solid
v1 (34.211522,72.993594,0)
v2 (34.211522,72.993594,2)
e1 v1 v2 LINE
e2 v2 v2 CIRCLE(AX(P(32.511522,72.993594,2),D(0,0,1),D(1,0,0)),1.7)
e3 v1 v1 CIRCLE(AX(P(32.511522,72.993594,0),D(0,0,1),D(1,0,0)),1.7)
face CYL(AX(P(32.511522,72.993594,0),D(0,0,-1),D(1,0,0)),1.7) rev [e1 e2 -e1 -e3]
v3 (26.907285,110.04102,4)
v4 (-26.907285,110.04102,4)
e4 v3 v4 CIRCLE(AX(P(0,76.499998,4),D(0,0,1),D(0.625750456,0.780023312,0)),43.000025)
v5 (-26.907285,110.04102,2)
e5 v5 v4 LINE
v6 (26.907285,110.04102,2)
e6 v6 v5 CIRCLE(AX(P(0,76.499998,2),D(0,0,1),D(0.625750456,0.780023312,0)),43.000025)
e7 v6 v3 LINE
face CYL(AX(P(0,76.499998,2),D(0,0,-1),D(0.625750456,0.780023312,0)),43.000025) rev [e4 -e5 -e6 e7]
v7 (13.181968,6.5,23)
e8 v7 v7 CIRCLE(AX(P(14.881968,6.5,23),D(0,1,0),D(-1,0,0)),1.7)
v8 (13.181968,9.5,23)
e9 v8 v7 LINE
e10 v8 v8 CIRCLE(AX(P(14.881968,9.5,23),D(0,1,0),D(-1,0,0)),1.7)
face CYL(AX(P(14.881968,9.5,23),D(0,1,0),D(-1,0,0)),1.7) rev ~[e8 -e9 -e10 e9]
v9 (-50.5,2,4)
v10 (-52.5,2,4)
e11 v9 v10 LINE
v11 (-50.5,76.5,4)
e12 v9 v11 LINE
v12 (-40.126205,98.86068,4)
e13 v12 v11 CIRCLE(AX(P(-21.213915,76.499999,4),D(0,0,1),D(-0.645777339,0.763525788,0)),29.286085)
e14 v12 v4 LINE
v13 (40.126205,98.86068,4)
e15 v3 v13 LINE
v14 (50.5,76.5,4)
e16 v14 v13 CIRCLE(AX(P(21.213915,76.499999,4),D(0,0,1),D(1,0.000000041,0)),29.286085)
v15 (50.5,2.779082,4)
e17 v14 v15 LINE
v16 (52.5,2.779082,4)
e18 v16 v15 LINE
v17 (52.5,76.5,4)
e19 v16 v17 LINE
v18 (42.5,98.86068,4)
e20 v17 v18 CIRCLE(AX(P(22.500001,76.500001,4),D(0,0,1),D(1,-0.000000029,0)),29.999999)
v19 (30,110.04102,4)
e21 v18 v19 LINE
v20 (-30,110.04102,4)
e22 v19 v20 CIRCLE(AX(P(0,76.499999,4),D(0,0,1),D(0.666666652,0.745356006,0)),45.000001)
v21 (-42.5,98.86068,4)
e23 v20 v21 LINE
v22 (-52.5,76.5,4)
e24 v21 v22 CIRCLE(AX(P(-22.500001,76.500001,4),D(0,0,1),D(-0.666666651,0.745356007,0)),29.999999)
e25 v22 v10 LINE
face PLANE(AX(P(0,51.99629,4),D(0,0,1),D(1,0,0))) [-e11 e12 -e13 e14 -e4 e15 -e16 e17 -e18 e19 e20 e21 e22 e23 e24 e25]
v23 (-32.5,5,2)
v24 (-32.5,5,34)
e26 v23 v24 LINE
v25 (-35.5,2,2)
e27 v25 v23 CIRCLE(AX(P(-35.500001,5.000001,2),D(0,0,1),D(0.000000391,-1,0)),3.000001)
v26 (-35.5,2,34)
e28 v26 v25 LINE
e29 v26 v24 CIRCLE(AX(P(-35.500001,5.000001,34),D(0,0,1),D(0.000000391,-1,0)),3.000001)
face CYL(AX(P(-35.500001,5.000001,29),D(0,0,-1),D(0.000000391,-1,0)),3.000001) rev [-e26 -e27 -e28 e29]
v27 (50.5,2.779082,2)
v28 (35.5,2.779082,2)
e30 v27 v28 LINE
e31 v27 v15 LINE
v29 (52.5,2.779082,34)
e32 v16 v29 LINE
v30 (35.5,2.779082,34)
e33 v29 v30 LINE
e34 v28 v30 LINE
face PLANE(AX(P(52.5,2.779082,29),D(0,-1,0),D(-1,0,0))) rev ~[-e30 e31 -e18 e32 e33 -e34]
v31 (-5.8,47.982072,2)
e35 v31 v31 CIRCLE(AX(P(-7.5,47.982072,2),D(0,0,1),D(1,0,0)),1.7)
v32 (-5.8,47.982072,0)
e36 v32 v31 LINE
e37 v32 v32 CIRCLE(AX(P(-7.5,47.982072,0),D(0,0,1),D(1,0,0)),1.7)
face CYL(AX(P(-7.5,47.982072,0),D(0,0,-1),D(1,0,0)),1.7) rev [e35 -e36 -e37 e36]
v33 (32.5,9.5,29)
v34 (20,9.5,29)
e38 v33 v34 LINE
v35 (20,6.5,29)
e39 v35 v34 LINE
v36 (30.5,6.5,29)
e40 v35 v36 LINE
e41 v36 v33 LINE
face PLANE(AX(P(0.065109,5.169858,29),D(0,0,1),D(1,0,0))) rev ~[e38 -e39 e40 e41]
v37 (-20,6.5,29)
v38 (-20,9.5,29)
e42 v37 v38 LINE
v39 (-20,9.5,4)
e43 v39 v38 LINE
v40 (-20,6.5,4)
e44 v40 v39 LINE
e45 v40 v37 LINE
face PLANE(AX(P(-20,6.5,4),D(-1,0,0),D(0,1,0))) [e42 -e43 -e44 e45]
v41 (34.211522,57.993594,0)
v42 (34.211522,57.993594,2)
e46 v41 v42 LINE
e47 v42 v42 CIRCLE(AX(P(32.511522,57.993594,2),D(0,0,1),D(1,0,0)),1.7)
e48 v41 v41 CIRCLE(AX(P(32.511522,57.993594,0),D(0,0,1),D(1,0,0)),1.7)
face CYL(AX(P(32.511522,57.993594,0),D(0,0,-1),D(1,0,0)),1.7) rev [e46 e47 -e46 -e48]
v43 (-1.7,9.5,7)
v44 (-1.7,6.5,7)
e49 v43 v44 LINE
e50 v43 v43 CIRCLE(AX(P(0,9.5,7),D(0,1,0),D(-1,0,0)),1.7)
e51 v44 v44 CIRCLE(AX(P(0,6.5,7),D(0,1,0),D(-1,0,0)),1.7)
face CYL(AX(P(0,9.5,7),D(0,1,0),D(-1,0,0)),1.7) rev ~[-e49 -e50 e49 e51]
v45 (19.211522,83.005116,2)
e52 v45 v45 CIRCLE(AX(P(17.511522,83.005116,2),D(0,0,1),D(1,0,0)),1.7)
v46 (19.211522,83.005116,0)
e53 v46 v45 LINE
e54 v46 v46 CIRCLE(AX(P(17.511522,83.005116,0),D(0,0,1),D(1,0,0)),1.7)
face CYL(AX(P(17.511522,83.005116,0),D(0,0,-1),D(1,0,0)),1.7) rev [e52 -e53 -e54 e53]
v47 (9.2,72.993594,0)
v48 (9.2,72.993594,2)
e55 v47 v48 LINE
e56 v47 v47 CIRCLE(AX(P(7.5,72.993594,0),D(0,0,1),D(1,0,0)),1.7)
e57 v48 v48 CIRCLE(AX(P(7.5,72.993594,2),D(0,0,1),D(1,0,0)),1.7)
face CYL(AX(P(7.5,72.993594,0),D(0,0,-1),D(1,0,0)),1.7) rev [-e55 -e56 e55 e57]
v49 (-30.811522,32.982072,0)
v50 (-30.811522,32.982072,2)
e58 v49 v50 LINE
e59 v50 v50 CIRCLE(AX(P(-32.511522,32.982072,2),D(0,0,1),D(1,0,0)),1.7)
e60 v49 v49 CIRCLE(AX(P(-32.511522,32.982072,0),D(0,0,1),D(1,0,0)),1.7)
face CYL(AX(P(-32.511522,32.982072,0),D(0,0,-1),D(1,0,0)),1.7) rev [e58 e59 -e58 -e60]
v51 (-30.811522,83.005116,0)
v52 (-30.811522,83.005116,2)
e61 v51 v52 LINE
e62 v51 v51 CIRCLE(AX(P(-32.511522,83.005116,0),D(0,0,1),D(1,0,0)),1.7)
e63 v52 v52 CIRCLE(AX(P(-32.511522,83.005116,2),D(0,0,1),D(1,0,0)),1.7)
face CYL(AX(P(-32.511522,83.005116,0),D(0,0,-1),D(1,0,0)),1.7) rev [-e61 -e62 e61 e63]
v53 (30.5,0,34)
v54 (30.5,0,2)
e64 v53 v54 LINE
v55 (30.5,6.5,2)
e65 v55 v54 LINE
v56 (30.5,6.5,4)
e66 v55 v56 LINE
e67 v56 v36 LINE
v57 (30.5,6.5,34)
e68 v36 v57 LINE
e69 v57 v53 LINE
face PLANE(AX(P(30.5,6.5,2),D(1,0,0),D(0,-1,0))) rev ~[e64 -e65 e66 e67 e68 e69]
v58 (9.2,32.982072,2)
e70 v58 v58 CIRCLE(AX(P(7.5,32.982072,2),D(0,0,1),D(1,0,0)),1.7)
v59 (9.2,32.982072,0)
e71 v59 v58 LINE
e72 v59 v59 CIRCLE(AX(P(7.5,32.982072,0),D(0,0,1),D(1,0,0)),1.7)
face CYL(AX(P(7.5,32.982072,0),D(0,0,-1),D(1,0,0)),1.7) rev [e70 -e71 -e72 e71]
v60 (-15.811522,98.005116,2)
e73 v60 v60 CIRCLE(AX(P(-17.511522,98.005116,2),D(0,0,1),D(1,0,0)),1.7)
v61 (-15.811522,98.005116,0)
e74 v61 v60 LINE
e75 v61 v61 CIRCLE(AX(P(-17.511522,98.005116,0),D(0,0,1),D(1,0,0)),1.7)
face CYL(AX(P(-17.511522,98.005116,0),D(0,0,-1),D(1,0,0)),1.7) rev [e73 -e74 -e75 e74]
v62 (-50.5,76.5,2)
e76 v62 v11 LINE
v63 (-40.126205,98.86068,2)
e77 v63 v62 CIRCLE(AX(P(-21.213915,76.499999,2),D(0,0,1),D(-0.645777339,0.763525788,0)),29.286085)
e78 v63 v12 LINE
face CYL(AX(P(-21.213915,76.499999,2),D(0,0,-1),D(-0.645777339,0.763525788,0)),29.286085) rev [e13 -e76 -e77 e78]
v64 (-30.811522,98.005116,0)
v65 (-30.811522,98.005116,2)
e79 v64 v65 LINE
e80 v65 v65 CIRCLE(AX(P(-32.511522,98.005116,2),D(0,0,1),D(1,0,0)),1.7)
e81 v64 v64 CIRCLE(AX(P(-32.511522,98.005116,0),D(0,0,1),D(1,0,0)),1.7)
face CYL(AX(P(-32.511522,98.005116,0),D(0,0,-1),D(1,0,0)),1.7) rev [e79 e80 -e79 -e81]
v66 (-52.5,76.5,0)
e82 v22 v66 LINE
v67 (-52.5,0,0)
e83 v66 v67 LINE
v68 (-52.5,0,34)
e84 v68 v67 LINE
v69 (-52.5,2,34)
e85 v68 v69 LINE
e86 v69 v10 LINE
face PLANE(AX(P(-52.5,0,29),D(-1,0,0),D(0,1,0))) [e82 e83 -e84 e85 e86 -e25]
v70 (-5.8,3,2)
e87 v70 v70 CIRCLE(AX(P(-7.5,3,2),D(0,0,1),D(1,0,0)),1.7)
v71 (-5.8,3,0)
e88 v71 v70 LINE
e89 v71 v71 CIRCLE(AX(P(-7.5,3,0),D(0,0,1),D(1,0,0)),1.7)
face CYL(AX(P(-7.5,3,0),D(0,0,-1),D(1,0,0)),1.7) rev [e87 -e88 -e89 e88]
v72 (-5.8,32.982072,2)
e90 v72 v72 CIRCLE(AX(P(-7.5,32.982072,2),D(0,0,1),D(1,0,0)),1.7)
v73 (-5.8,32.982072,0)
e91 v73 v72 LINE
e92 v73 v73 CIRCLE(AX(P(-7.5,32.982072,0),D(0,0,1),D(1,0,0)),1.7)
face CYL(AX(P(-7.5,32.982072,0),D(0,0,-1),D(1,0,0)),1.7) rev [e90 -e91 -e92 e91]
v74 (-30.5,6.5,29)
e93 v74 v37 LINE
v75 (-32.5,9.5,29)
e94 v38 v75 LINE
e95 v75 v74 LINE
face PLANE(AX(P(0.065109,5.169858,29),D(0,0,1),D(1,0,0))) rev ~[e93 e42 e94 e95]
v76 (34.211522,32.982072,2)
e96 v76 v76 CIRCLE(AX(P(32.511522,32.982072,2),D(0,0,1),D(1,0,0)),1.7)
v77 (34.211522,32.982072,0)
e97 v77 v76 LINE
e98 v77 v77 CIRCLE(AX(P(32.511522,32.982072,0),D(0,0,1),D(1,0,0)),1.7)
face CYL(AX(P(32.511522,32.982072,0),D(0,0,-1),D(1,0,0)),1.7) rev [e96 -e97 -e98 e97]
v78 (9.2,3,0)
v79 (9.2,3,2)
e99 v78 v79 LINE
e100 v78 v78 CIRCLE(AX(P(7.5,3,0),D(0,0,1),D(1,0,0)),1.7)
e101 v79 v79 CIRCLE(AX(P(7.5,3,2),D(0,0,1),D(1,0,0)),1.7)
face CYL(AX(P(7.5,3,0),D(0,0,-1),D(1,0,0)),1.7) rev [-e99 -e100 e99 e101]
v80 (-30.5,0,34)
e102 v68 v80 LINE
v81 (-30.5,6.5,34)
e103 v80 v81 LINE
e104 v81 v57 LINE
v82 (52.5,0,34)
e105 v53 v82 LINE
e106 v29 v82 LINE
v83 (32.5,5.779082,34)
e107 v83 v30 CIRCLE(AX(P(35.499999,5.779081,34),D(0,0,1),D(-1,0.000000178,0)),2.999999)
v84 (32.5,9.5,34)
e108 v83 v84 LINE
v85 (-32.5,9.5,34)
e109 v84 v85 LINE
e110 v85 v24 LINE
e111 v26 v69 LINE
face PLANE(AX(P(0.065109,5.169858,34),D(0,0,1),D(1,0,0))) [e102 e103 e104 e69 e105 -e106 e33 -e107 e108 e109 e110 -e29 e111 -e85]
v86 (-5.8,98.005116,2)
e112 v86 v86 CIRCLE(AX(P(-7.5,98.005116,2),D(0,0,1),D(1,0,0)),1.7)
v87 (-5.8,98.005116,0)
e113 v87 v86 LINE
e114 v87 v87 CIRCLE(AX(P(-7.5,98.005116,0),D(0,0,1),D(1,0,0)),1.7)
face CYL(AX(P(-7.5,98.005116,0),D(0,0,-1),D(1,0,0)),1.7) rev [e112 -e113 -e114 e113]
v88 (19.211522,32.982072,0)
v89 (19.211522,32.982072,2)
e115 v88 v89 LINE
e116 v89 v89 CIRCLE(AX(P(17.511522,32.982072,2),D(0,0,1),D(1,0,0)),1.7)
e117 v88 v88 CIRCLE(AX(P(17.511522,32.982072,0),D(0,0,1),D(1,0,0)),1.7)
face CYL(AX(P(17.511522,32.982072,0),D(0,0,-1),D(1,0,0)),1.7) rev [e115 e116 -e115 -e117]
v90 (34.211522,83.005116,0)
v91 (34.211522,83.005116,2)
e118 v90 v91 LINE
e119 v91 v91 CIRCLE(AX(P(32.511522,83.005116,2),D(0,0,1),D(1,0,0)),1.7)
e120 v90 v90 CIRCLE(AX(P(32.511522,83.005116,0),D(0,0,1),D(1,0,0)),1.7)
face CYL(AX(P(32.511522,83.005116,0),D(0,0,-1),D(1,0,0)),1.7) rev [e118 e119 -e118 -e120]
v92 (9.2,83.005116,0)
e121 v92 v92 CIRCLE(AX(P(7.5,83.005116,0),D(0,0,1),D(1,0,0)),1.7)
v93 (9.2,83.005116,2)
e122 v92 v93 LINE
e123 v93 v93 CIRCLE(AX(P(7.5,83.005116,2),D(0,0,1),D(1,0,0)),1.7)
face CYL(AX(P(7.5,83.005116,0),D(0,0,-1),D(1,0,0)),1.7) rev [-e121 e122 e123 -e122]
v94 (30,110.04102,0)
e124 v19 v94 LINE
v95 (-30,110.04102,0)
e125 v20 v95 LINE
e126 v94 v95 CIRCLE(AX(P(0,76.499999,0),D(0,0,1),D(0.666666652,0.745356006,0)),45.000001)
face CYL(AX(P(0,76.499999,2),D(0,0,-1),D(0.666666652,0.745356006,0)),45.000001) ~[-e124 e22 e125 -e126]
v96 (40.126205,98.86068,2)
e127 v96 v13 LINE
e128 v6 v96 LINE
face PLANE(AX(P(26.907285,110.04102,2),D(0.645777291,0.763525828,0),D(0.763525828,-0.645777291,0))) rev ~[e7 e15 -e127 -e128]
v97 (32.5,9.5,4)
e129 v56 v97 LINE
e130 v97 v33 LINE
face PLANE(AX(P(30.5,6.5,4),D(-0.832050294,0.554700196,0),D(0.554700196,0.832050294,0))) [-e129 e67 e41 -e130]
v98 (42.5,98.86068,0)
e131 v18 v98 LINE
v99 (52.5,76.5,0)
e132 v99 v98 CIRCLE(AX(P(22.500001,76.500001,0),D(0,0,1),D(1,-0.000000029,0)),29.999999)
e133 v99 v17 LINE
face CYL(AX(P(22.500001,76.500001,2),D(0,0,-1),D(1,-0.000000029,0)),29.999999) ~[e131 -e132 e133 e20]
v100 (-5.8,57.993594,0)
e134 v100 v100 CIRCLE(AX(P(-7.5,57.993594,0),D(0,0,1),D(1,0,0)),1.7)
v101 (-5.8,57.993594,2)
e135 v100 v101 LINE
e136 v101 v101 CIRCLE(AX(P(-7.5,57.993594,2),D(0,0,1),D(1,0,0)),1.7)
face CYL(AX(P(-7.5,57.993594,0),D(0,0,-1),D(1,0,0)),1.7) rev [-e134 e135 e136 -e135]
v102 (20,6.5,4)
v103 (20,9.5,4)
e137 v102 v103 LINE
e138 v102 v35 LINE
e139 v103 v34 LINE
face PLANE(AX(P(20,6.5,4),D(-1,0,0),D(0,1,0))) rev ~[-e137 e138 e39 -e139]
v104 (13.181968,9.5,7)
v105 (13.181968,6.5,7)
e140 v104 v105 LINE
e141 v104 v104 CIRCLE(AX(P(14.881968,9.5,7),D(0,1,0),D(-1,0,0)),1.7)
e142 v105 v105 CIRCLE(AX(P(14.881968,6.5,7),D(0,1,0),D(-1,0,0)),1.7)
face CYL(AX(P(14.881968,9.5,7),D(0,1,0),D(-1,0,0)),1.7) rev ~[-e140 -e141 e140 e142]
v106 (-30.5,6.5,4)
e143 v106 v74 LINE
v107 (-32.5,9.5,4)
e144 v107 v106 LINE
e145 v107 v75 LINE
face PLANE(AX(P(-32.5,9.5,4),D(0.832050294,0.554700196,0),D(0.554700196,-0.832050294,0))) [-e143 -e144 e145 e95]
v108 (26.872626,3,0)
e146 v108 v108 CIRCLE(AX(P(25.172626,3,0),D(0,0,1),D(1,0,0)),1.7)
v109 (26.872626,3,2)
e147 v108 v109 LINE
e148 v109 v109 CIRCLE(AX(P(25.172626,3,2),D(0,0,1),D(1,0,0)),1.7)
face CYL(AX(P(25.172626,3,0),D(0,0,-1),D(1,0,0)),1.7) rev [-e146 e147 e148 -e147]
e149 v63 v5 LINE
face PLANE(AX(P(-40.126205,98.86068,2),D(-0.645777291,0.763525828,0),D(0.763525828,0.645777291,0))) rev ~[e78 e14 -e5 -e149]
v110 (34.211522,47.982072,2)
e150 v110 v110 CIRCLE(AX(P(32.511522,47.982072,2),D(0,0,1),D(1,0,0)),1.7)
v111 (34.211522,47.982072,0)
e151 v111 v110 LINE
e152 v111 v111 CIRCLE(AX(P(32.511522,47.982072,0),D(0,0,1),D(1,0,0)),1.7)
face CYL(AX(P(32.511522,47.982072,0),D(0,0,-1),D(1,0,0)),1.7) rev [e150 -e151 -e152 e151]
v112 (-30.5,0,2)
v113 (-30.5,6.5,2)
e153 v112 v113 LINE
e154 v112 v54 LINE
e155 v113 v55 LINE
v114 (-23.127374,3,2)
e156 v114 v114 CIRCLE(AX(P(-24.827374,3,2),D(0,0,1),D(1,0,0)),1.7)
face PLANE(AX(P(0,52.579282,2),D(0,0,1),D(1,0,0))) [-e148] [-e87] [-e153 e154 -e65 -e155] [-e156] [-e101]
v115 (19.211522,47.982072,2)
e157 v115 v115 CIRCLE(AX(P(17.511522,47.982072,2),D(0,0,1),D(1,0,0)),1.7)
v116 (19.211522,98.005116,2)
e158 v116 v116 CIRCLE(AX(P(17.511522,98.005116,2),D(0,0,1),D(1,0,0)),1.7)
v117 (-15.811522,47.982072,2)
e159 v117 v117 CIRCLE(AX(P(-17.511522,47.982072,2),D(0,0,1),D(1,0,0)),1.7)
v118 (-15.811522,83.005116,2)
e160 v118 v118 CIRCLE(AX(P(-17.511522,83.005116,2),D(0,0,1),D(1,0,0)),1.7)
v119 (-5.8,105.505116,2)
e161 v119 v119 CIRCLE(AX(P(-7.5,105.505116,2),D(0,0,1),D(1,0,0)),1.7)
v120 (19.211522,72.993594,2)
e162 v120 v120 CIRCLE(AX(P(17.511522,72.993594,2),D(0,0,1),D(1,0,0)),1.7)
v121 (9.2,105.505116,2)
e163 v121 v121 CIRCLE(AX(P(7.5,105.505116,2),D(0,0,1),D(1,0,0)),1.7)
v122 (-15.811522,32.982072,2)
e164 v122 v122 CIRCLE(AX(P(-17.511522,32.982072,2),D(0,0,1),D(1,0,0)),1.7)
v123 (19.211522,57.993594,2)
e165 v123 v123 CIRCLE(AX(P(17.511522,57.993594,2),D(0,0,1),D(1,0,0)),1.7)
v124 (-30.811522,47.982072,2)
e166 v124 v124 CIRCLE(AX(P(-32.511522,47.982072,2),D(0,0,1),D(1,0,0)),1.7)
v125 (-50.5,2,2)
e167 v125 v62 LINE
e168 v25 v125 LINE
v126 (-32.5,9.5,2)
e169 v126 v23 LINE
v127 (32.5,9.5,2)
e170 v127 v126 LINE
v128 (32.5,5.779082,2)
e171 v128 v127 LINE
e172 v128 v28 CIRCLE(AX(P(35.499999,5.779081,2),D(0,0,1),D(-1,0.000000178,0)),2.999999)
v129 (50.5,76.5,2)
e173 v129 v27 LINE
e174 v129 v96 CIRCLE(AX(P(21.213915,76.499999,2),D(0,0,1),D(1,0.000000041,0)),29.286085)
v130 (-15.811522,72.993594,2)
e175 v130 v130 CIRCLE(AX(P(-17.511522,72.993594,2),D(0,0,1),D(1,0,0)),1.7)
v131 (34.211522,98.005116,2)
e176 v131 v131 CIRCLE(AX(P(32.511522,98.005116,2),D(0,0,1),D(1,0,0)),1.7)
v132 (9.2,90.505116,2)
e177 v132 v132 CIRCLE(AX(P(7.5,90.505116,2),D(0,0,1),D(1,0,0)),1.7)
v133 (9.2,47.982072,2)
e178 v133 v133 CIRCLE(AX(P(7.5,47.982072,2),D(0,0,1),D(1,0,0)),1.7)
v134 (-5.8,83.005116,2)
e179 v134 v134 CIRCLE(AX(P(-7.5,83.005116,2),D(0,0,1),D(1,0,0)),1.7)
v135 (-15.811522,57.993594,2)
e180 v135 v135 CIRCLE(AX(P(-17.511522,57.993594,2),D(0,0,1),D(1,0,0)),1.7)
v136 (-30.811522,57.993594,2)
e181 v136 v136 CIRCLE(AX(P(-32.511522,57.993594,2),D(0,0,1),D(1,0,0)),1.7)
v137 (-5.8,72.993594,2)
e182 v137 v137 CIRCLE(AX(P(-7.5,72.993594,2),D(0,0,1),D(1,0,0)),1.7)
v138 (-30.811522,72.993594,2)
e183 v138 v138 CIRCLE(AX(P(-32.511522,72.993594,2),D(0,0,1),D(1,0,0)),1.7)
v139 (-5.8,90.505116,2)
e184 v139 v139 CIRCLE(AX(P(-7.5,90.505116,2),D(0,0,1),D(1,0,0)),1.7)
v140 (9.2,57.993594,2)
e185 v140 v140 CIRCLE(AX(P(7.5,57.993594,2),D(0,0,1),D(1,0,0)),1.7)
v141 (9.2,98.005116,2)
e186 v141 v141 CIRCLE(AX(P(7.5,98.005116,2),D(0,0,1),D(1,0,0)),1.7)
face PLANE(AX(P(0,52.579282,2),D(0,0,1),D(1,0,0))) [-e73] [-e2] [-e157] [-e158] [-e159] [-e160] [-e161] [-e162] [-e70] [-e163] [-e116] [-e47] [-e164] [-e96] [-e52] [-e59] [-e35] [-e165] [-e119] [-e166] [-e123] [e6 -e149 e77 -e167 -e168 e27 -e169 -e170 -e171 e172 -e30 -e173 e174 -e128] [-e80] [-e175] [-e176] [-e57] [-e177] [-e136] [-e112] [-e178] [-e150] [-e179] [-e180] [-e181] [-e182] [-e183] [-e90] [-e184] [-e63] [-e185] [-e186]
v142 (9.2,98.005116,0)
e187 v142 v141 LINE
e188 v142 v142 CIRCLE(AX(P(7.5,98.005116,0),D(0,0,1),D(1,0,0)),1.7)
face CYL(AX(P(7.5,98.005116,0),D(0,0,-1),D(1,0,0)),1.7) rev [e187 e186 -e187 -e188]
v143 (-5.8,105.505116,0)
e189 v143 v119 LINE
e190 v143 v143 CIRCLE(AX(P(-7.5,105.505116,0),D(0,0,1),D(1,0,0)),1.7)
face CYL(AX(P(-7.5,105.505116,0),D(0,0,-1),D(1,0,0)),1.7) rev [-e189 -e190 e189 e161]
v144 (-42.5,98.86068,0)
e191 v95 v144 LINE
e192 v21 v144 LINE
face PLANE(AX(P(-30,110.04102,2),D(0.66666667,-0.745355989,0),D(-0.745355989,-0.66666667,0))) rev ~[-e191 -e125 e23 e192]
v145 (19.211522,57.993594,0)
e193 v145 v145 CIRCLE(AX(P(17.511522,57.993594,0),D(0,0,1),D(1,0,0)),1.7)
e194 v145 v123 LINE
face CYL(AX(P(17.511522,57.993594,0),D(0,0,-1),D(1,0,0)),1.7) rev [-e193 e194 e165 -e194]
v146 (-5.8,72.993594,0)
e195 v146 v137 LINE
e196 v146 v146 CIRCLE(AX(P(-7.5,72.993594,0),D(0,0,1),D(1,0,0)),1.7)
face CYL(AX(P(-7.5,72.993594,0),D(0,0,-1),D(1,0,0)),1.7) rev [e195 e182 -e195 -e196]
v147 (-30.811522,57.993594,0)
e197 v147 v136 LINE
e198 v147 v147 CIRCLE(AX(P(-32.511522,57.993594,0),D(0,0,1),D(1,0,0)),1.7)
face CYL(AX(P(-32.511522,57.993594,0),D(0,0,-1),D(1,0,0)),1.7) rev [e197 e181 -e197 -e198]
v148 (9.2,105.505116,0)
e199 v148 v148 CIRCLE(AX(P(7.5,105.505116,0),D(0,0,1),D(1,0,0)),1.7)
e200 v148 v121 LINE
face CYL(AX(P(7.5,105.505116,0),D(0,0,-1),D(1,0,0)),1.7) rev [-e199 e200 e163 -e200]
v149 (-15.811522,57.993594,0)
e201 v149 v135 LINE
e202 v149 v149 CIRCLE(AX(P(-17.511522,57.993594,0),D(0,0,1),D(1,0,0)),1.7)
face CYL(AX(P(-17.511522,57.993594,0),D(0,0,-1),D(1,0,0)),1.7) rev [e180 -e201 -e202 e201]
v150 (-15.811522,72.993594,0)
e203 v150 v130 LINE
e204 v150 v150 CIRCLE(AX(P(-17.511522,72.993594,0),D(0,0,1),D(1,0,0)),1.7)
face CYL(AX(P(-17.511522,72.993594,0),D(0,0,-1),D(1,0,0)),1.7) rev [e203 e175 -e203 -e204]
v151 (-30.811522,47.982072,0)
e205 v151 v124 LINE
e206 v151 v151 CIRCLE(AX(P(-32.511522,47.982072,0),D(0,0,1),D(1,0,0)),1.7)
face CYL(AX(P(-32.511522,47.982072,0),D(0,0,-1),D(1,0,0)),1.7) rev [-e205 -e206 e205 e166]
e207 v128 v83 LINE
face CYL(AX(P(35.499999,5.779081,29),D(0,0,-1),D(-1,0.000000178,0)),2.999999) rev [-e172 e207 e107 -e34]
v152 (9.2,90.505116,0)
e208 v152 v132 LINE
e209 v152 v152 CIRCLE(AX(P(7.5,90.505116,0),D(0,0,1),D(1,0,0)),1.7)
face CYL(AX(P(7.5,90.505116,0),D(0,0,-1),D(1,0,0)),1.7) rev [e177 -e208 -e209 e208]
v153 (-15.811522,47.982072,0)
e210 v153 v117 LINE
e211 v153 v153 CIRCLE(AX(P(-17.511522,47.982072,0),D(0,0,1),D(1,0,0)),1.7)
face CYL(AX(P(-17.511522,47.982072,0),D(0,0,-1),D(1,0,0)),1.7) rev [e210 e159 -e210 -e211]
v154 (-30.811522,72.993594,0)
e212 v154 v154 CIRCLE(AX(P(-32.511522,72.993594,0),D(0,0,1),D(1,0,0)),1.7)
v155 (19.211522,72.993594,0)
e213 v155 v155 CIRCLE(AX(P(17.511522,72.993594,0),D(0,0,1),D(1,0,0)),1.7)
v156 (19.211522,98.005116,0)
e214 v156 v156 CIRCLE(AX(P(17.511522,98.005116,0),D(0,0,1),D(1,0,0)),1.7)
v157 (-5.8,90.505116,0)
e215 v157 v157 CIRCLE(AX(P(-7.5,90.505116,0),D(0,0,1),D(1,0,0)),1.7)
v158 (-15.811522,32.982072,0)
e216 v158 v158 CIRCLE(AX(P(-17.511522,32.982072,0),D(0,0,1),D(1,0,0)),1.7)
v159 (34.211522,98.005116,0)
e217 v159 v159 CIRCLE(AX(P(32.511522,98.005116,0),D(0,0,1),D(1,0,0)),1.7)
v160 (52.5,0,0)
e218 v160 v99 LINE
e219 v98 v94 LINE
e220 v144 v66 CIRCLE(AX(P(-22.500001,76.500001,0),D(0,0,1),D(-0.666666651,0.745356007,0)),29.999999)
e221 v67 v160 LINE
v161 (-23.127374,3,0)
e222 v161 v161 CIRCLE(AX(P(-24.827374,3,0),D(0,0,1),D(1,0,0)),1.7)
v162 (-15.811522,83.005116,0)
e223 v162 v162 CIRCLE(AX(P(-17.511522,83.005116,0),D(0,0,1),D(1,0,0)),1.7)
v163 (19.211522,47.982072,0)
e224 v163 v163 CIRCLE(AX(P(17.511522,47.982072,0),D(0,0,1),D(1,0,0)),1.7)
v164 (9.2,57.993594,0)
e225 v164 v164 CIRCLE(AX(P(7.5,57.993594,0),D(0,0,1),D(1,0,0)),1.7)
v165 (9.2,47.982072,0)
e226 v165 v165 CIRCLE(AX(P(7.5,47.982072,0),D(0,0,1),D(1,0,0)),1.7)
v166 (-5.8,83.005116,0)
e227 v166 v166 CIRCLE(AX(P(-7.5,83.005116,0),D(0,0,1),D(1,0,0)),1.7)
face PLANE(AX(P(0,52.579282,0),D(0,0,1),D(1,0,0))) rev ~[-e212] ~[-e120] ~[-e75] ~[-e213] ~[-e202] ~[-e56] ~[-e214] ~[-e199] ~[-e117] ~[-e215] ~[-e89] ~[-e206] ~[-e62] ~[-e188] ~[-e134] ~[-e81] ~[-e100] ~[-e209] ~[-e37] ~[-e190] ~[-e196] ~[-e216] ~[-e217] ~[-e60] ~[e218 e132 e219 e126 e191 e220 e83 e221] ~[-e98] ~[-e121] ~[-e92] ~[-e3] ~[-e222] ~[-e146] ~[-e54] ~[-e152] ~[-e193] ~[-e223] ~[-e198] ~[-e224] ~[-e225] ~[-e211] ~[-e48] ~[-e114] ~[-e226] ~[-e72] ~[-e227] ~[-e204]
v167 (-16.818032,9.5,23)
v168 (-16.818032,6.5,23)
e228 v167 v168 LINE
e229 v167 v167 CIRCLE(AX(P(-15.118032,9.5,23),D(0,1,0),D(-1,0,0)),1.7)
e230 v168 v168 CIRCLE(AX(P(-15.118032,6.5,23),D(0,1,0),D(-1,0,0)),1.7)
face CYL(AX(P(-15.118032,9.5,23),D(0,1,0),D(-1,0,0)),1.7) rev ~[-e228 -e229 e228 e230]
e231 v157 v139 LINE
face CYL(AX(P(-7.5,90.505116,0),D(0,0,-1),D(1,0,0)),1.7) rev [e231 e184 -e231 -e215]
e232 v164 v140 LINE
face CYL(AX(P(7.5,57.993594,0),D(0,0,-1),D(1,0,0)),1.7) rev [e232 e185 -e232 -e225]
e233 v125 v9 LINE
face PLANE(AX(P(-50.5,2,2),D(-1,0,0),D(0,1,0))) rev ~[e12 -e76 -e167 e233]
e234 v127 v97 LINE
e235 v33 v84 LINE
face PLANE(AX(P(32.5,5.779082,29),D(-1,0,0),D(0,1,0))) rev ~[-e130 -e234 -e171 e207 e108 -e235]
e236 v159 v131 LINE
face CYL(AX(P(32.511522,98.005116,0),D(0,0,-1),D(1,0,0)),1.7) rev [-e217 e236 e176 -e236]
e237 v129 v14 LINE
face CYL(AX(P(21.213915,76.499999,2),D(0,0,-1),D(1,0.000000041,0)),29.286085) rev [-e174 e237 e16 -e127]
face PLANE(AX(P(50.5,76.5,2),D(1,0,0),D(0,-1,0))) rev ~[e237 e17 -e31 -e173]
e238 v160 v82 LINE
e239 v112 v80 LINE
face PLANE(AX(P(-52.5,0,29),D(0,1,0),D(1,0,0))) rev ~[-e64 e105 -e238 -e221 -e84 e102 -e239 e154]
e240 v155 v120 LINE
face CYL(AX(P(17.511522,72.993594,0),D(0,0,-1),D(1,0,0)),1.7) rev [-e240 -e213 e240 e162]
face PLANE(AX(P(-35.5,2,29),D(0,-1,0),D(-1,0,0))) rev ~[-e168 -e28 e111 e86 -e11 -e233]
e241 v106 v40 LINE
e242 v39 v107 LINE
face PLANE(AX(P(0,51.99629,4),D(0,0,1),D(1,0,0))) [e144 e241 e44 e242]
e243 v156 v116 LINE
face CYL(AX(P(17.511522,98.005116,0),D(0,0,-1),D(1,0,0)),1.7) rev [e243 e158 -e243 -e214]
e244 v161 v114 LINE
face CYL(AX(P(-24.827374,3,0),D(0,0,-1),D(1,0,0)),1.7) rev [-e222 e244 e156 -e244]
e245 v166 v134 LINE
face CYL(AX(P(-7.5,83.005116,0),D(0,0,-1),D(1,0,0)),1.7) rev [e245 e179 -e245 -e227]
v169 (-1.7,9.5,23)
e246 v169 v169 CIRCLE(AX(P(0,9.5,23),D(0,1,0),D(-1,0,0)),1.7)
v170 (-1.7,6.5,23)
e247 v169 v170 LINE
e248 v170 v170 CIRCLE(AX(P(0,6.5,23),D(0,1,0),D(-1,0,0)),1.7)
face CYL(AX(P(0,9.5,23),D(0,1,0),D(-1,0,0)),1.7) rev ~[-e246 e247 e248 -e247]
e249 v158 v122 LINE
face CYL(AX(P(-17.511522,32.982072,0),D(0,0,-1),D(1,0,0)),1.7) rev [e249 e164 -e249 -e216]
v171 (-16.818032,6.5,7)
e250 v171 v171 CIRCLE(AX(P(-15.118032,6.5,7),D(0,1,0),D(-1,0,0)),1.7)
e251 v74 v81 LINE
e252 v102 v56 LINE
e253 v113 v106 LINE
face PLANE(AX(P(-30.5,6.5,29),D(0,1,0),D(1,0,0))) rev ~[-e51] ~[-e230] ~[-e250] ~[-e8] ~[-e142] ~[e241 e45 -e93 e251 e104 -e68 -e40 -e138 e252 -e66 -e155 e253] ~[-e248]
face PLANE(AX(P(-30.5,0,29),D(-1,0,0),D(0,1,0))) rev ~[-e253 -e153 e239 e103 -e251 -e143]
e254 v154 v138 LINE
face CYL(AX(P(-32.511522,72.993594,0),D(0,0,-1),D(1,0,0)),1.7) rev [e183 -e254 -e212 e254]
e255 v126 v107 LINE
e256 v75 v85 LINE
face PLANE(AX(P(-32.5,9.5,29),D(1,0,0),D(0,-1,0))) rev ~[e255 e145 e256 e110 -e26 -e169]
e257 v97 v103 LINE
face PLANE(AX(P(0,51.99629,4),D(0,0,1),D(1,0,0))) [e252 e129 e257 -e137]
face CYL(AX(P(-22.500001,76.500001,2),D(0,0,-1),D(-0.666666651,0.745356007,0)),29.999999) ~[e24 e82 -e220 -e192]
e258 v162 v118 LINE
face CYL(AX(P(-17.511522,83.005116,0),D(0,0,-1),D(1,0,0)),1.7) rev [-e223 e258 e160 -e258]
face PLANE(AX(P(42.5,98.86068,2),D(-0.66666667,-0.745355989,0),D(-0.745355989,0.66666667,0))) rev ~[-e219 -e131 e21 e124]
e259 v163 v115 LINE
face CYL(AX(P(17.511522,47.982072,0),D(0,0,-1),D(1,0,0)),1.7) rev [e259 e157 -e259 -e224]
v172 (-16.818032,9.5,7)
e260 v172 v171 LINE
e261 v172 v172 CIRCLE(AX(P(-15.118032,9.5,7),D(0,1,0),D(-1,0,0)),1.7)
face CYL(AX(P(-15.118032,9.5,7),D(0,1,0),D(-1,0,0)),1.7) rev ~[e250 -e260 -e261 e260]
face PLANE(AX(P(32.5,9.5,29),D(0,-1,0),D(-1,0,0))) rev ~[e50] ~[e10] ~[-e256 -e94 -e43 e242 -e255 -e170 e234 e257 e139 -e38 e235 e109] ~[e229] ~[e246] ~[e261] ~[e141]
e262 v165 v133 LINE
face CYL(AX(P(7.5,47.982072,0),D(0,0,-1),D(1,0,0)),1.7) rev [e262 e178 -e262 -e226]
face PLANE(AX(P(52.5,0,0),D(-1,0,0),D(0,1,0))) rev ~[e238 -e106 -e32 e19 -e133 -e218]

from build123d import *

# Parameters (mm, degrees)
SKETCH023_R     = 1.7
PAD004_DEPTH    = 2
PAD005_DEPTH    = 2
SKETCH025_W     = 40
SKETCH025_H     = 3
PAD006_DEPTH    = 25
PAD007_DEPTH    = 5
SKETCH027_R     = 1.7
POCKET018_DEPTH = 10


with BuildPart() as part:
    # Sketch023 → Pad004 (new body)
    with BuildSketch(Plane.XY):
        with BuildLine():
            Line((-52.5, 0), (-30.5, 0))
            Line((-30.5, 0), (30.5, 0))
            Line((30.5, 0), (52.5, 0))
            Line((52.5, 0), (52.5, 76.5))
            ThreePointArc((52.5, 76.5), (49.886128, 88.747449), (42.5, 98.86068))
            Line((42.5, 98.86068), (30, 110.04102))
            ThreePointArc((30, 110.04102), (0, 121.5), (-30, 110.04102))
            Line((-30, 110.04102), (-42.5, 98.86068))
            ThreePointArc((-42.5, 98.86068), (-49.886128, 88.747449), (-52.5, 76.5))
            Line((-52.5, 76.5), (-52.5, 0))
        make_face()
        with Locations((17.511522, 32.982072)):
            Circle(SKETCH023_R, mode=Mode.SUBTRACT)
        with Locations((17.511522, 47.982072)):
            Circle(SKETCH023_R, mode=Mode.SUBTRACT)
        with Locations((32.511522, 47.982072)):
            Circle(SKETCH023_R, mode=Mode.SUBTRACT)
        with Locations((32.511522, 32.982072)):
            Circle(SKETCH023_R, mode=Mode.SUBTRACT)
        with Locations((-7.5, 32.982072)):
            Circle(SKETCH023_R, mode=Mode.SUBTRACT)
        with Locations((-7.5, 47.982072)):
            Circle(SKETCH023_R, mode=Mode.SUBTRACT)
        with Locations((7.5, 47.982072)):
            Circle(SKETCH023_R, mode=Mode.SUBTRACT)
        with Locations((7.5, 32.982072)):
            Circle(SKETCH023_R, mode=Mode.SUBTRACT)
        with Locations((-32.511522, 32.982072)):
            Circle(SKETCH023_R, mode=Mode.SUBTRACT)
        with Locations((-32.511522, 47.982072)):
            Circle(SKETCH023_R, mode=Mode.SUBTRACT)
        with Locations((-17.511522, 47.982072)):
            Circle(SKETCH023_R, mode=Mode.SUBTRACT)
        with Locations((-17.511522, 32.982072)):
            Circle(SKETCH023_R, mode=Mode.SUBTRACT)
        with Locations((17.511522, 57.993594)):
            Circle(SKETCH023_R, mode=Mode.SUBTRACT)
        with Locations((17.511522, 72.993594)):
            Circle(SKETCH023_R, mode=Mode.SUBTRACT)
        with Locations((32.511522, 72.993594)):
            Circle(SKETCH023_R, mode=Mode.SUBTRACT)
        with Locations((32.511522, 57.993594)):
            Circle(SKETCH023_R, mode=Mode.SUBTRACT)
        with Locations((-7.5, 57.993594)):
            Circle(SKETCH023_R, mode=Mode.SUBTRACT)
        with Locations((-7.5, 72.993594)):
            Circle(SKETCH023_R, mode=Mode.SUBTRACT)
        with Locations((7.5, 72.993594)):
            Circle(SKETCH023_R, mode=Mode.SUBTRACT)
        with Locations((7.5, 57.993594)):
            Circle(SKETCH023_R, mode=Mode.SUBTRACT)
        with Locations((-32.511522, 57.993594)):
            Circle(SKETCH023_R, mode=Mode.SUBTRACT)
        with Locations((-32.511522, 72.993594)):
            Circle(SKETCH023_R, mode=Mode.SUBTRACT)
        with Locations((-17.511522, 72.993594)):
            Circle(SKETCH023_R, mode=Mode.SUBTRACT)
        with Locations((-17.511522, 57.993594)):
            Circle(SKETCH023_R, mode=Mode.SUBTRACT)
        with Locations((17.511522, 83.005116)):
            Circle(SKETCH023_R, mode=Mode.SUBTRACT)
        with Locations((17.511522, 98.005116)):
            Circle(SKETCH023_R, mode=Mode.SUBTRACT)
        with Locations((32.511522, 98.005116)):
            Circle(SKETCH023_R, mode=Mode.SUBTRACT)
        with Locations((32.511522, 83.005116)):
            Circle(SKETCH023_R, mode=Mode.SUBTRACT)
        with Locations((-7.5, 83.005116)):
            Circle(SKETCH023_R, mode=Mode.SUBTRACT)
        with Locations((-7.5, 98.005116)):
            Circle(SKETCH023_R, mode=Mode.SUBTRACT)
        with Locations((7.5, 98.005116)):
            Circle(SKETCH023_R, mode=Mode.SUBTRACT)
        with Locations((7.5, 83.005116)):
            Circle(SKETCH023_R, mode=Mode.SUBTRACT)
        with Locations((-32.511522, 83.005116)):
            Circle(SKETCH023_R, mode=Mode.SUBTRACT)
        with Locations((-32.511522, 98.005116)):
            Circle(SKETCH023_R, mode=Mode.SUBTRACT)
        with Locations((-17.511522, 98.005116)):
            Circle(SKETCH023_R, mode=Mode.SUBTRACT)
        with Locations((-17.511522, 83.005116)):
            Circle(SKETCH023_R, mode=Mode.SUBTRACT)
        with Locations((-7.5, 90.505116)):
            Circle(SKETCH023_R, mode=Mode.SUBTRACT)
        with Locations((-7.5, 105.505116)):
            Circle(SKETCH023_R, mode=Mode.SUBTRACT)
        with Locations((7.5, 105.505116)):
            Circle(SKETCH023_R, mode=Mode.SUBTRACT)
        with Locations((7.5, 90.505116)):
            Circle(SKETCH023_R, mode=Mode.SUBTRACT)
        with Locations((-24.827374, 3)):
            Circle(SKETCH023_R, mode=Mode.SUBTRACT)
        with Locations((-7.5, 3)):
            Circle(SKETCH023_R, mode=Mode.SUBTRACT)
        with Locations((7.5, 3)):
            Circle(SKETCH023_R, mode=Mode.SUBTRACT)
        with Locations((25.172626, 3)):
            Circle(SKETCH023_R, mode=Mode.SUBTRACT)
    extrude(amount=PAD004_DEPTH)

    # Sketch024 (on Face56 of Pad004) → Pad005 (join)
    with BuildSketch(Plane.XY.offset(2)):
        with BuildLine():
            Line((-52.5, 0), (-30.5, 0))
            Line((-30.5, 0), (-30.5, 6.5))
            Line((-30.5, 6.5), (30.5, 6.5))
            Line((30.5, 6.5), (30.5, 0))
            Line((30.5, 0), (52.5, 0))
            Line((52.5, 0), (52.5, 76.5))
            ThreePointArc((52.5, 76.5), (49.886128, 88.747449), (42.5, 98.86068))
            Line((42.5, 98.86068), (30, 110.04102))
            ThreePointArc((30, 110.04102), (0, 121.5), (-30, 110.04102))
            Line((-30, 110.04102), (-42.5, 98.86068))
            ThreePointArc((-42.5, 98.86068), (-49.886128, 88.747449), (-52.5, 76.5))
            Line((-52.5, 76.5), (-52.5, 0))
        make_face()
        with BuildLine():
            Line((-50.5, 2), (-50.5, 76.5))
            ThreePointArc((-40.126205, 98.86068), (-47.780263, 88.82493), (-50.5, 76.5))
            Line((-40.126205, 98.86068), (-26.907285, 110.04102))
            ThreePointArc((26.907285, 110.04102), (0, 119.500023), (-26.907285, 110.04102))
            Line((26.907285, 110.04102), (40.126205, 98.86068))
            ThreePointArc((50.5, 76.5), (47.780263, 88.82493), (40.126205, 98.86068))
            Line((50.5, 76.5), (50.5, 2.779082))
            Line((50.5, 2.779082), (35.5, 2.779082))
            ThreePointArc((32.5, 5.779082), (33.37868, 3.657761), (35.5, 2.779082))
            Line((32.5, 5.779082), (32.5, 9.5))
            Line((32.5, 9.5), (-32.5, 9.5))
            Line((-32.5, 9.5), (-32.5, 5))
            ThreePointArc((-35.5, 2), (-33.37868, 2.87868), (-32.5, 5))
            Line((-35.5, 2), (-50.5, 2))
        make_face(mode=Mode.SUBTRACT)
    extrude(amount=PAD005_DEPTH)

    # Sketch025 (on Face60 of Pad005) → Pad006 (join)
    with BuildSketch(Plane.XY.offset(4)):
        with BuildLine():
            Line((-52.5, 0), (-30.5, 0))
            Line((-30.5, 0), (-30.5, 6.5))
            Line((-32.5, 9.5), (-30.5, 6.5))
            Line((-32.5, 9.5), (-32.5, 5))
            ThreePointArc((-35.5, 2), (-33.37868, 2.87868), (-32.5, 5))
            Line((-35.5, 2), (-50.5, 2))
            Line((-50.5, 2), (-52.5, 2))
            Line((-52.5, 2), (-52.5, 0))
        make_face()
        with Locations((0, 8)):
            Rectangle(SKETCH025_W, SKETCH025_H)
        with BuildLine():
            Line((30.5, 6.5), (30.5, 0))
            Line((30.5, 0), (52.5, 0))
            Line((52.5, 2.779082), (52.5, 0))
            Line((50.5, 2.779082), (52.5, 2.779082))
            Line((50.5, 2.779082), (35.5, 2.779082))
            ThreePointArc((32.5, 5.779082), (33.37868, 3.657761), (35.5, 2.779082))
            Line((32.5, 5.779082), (32.5, 9.5))
            Line((30.5, 6.5), (32.5, 9.5))
        make_face()
    extrude(amount=PAD006_DEPTH)

    # Sketch026 (on Face102 of Pad006) → Pad007 (join)
    with BuildSketch(Plane.XY.offset(29)):
        with BuildLine():
            Line((-52.5, 0), (-30.5, 0))
            Line((-30.5, 0), (-30.5, 6.5))
            Line((-30.5, 6.5), (30.5, 6.5))
            Line((30.5, 6.5), (30.5, 0))
            Line((30.5, 0), (52.5, 0))
            Line((52.5, 2.779082), (52.5, 0))
            Line((50.5, 2.779082), (52.5, 2.779082))
            Line((50.5, 2.779082), (35.5, 2.779082))
            ThreePointArc((32.5, 5.779082), (33.37868, 3.657761), (35.5, 2.779082))
            Line((32.5, 5.779082), (32.5, 9.5))
            Line((32.5, 9.5), (-32.5, 9.5))
            Line((-32.5, 9.5), (-32.5, 5))
            ThreePointArc((-35.5, 2), (-33.37868, 2.87868), (-32.5, 5))
            Line((-35.5, 2), (-50.5, 2))
            Line((-52.5, 2), (-50.5, 2))
            Line((-52.5, 0), (-52.5, 2))
        make_face()
    extrude(amount=PAD007_DEPTH)

    # Sketch027 (on Face114 of Pad007) → Pocket018 (cut)
    with BuildSketch(Plane(origin=(0, 9.5, 0), x_dir=(-1, 0, 0), z_dir=(0, 1, 0))):
        with Locations((-14.881968, 23)):
            Circle(SKETCH027_R)
        with Locations((0, 23)):
            Circle(SKETCH027_R)
        with Locations((15.118032, 23)):
            Circle(SKETCH027_R)
        with Locations((15.118032, 7)):
            Circle(SKETCH027_R)
        with Locations((0, 7)):
            Circle(SKETCH027_R)
        with Locations((-14.881968, 7)):
            Circle(SKETCH027_R)
    extrude(amount=-POCKET018_DEPTH, mode=Mode.SUBTRACT)


solid = part.part
